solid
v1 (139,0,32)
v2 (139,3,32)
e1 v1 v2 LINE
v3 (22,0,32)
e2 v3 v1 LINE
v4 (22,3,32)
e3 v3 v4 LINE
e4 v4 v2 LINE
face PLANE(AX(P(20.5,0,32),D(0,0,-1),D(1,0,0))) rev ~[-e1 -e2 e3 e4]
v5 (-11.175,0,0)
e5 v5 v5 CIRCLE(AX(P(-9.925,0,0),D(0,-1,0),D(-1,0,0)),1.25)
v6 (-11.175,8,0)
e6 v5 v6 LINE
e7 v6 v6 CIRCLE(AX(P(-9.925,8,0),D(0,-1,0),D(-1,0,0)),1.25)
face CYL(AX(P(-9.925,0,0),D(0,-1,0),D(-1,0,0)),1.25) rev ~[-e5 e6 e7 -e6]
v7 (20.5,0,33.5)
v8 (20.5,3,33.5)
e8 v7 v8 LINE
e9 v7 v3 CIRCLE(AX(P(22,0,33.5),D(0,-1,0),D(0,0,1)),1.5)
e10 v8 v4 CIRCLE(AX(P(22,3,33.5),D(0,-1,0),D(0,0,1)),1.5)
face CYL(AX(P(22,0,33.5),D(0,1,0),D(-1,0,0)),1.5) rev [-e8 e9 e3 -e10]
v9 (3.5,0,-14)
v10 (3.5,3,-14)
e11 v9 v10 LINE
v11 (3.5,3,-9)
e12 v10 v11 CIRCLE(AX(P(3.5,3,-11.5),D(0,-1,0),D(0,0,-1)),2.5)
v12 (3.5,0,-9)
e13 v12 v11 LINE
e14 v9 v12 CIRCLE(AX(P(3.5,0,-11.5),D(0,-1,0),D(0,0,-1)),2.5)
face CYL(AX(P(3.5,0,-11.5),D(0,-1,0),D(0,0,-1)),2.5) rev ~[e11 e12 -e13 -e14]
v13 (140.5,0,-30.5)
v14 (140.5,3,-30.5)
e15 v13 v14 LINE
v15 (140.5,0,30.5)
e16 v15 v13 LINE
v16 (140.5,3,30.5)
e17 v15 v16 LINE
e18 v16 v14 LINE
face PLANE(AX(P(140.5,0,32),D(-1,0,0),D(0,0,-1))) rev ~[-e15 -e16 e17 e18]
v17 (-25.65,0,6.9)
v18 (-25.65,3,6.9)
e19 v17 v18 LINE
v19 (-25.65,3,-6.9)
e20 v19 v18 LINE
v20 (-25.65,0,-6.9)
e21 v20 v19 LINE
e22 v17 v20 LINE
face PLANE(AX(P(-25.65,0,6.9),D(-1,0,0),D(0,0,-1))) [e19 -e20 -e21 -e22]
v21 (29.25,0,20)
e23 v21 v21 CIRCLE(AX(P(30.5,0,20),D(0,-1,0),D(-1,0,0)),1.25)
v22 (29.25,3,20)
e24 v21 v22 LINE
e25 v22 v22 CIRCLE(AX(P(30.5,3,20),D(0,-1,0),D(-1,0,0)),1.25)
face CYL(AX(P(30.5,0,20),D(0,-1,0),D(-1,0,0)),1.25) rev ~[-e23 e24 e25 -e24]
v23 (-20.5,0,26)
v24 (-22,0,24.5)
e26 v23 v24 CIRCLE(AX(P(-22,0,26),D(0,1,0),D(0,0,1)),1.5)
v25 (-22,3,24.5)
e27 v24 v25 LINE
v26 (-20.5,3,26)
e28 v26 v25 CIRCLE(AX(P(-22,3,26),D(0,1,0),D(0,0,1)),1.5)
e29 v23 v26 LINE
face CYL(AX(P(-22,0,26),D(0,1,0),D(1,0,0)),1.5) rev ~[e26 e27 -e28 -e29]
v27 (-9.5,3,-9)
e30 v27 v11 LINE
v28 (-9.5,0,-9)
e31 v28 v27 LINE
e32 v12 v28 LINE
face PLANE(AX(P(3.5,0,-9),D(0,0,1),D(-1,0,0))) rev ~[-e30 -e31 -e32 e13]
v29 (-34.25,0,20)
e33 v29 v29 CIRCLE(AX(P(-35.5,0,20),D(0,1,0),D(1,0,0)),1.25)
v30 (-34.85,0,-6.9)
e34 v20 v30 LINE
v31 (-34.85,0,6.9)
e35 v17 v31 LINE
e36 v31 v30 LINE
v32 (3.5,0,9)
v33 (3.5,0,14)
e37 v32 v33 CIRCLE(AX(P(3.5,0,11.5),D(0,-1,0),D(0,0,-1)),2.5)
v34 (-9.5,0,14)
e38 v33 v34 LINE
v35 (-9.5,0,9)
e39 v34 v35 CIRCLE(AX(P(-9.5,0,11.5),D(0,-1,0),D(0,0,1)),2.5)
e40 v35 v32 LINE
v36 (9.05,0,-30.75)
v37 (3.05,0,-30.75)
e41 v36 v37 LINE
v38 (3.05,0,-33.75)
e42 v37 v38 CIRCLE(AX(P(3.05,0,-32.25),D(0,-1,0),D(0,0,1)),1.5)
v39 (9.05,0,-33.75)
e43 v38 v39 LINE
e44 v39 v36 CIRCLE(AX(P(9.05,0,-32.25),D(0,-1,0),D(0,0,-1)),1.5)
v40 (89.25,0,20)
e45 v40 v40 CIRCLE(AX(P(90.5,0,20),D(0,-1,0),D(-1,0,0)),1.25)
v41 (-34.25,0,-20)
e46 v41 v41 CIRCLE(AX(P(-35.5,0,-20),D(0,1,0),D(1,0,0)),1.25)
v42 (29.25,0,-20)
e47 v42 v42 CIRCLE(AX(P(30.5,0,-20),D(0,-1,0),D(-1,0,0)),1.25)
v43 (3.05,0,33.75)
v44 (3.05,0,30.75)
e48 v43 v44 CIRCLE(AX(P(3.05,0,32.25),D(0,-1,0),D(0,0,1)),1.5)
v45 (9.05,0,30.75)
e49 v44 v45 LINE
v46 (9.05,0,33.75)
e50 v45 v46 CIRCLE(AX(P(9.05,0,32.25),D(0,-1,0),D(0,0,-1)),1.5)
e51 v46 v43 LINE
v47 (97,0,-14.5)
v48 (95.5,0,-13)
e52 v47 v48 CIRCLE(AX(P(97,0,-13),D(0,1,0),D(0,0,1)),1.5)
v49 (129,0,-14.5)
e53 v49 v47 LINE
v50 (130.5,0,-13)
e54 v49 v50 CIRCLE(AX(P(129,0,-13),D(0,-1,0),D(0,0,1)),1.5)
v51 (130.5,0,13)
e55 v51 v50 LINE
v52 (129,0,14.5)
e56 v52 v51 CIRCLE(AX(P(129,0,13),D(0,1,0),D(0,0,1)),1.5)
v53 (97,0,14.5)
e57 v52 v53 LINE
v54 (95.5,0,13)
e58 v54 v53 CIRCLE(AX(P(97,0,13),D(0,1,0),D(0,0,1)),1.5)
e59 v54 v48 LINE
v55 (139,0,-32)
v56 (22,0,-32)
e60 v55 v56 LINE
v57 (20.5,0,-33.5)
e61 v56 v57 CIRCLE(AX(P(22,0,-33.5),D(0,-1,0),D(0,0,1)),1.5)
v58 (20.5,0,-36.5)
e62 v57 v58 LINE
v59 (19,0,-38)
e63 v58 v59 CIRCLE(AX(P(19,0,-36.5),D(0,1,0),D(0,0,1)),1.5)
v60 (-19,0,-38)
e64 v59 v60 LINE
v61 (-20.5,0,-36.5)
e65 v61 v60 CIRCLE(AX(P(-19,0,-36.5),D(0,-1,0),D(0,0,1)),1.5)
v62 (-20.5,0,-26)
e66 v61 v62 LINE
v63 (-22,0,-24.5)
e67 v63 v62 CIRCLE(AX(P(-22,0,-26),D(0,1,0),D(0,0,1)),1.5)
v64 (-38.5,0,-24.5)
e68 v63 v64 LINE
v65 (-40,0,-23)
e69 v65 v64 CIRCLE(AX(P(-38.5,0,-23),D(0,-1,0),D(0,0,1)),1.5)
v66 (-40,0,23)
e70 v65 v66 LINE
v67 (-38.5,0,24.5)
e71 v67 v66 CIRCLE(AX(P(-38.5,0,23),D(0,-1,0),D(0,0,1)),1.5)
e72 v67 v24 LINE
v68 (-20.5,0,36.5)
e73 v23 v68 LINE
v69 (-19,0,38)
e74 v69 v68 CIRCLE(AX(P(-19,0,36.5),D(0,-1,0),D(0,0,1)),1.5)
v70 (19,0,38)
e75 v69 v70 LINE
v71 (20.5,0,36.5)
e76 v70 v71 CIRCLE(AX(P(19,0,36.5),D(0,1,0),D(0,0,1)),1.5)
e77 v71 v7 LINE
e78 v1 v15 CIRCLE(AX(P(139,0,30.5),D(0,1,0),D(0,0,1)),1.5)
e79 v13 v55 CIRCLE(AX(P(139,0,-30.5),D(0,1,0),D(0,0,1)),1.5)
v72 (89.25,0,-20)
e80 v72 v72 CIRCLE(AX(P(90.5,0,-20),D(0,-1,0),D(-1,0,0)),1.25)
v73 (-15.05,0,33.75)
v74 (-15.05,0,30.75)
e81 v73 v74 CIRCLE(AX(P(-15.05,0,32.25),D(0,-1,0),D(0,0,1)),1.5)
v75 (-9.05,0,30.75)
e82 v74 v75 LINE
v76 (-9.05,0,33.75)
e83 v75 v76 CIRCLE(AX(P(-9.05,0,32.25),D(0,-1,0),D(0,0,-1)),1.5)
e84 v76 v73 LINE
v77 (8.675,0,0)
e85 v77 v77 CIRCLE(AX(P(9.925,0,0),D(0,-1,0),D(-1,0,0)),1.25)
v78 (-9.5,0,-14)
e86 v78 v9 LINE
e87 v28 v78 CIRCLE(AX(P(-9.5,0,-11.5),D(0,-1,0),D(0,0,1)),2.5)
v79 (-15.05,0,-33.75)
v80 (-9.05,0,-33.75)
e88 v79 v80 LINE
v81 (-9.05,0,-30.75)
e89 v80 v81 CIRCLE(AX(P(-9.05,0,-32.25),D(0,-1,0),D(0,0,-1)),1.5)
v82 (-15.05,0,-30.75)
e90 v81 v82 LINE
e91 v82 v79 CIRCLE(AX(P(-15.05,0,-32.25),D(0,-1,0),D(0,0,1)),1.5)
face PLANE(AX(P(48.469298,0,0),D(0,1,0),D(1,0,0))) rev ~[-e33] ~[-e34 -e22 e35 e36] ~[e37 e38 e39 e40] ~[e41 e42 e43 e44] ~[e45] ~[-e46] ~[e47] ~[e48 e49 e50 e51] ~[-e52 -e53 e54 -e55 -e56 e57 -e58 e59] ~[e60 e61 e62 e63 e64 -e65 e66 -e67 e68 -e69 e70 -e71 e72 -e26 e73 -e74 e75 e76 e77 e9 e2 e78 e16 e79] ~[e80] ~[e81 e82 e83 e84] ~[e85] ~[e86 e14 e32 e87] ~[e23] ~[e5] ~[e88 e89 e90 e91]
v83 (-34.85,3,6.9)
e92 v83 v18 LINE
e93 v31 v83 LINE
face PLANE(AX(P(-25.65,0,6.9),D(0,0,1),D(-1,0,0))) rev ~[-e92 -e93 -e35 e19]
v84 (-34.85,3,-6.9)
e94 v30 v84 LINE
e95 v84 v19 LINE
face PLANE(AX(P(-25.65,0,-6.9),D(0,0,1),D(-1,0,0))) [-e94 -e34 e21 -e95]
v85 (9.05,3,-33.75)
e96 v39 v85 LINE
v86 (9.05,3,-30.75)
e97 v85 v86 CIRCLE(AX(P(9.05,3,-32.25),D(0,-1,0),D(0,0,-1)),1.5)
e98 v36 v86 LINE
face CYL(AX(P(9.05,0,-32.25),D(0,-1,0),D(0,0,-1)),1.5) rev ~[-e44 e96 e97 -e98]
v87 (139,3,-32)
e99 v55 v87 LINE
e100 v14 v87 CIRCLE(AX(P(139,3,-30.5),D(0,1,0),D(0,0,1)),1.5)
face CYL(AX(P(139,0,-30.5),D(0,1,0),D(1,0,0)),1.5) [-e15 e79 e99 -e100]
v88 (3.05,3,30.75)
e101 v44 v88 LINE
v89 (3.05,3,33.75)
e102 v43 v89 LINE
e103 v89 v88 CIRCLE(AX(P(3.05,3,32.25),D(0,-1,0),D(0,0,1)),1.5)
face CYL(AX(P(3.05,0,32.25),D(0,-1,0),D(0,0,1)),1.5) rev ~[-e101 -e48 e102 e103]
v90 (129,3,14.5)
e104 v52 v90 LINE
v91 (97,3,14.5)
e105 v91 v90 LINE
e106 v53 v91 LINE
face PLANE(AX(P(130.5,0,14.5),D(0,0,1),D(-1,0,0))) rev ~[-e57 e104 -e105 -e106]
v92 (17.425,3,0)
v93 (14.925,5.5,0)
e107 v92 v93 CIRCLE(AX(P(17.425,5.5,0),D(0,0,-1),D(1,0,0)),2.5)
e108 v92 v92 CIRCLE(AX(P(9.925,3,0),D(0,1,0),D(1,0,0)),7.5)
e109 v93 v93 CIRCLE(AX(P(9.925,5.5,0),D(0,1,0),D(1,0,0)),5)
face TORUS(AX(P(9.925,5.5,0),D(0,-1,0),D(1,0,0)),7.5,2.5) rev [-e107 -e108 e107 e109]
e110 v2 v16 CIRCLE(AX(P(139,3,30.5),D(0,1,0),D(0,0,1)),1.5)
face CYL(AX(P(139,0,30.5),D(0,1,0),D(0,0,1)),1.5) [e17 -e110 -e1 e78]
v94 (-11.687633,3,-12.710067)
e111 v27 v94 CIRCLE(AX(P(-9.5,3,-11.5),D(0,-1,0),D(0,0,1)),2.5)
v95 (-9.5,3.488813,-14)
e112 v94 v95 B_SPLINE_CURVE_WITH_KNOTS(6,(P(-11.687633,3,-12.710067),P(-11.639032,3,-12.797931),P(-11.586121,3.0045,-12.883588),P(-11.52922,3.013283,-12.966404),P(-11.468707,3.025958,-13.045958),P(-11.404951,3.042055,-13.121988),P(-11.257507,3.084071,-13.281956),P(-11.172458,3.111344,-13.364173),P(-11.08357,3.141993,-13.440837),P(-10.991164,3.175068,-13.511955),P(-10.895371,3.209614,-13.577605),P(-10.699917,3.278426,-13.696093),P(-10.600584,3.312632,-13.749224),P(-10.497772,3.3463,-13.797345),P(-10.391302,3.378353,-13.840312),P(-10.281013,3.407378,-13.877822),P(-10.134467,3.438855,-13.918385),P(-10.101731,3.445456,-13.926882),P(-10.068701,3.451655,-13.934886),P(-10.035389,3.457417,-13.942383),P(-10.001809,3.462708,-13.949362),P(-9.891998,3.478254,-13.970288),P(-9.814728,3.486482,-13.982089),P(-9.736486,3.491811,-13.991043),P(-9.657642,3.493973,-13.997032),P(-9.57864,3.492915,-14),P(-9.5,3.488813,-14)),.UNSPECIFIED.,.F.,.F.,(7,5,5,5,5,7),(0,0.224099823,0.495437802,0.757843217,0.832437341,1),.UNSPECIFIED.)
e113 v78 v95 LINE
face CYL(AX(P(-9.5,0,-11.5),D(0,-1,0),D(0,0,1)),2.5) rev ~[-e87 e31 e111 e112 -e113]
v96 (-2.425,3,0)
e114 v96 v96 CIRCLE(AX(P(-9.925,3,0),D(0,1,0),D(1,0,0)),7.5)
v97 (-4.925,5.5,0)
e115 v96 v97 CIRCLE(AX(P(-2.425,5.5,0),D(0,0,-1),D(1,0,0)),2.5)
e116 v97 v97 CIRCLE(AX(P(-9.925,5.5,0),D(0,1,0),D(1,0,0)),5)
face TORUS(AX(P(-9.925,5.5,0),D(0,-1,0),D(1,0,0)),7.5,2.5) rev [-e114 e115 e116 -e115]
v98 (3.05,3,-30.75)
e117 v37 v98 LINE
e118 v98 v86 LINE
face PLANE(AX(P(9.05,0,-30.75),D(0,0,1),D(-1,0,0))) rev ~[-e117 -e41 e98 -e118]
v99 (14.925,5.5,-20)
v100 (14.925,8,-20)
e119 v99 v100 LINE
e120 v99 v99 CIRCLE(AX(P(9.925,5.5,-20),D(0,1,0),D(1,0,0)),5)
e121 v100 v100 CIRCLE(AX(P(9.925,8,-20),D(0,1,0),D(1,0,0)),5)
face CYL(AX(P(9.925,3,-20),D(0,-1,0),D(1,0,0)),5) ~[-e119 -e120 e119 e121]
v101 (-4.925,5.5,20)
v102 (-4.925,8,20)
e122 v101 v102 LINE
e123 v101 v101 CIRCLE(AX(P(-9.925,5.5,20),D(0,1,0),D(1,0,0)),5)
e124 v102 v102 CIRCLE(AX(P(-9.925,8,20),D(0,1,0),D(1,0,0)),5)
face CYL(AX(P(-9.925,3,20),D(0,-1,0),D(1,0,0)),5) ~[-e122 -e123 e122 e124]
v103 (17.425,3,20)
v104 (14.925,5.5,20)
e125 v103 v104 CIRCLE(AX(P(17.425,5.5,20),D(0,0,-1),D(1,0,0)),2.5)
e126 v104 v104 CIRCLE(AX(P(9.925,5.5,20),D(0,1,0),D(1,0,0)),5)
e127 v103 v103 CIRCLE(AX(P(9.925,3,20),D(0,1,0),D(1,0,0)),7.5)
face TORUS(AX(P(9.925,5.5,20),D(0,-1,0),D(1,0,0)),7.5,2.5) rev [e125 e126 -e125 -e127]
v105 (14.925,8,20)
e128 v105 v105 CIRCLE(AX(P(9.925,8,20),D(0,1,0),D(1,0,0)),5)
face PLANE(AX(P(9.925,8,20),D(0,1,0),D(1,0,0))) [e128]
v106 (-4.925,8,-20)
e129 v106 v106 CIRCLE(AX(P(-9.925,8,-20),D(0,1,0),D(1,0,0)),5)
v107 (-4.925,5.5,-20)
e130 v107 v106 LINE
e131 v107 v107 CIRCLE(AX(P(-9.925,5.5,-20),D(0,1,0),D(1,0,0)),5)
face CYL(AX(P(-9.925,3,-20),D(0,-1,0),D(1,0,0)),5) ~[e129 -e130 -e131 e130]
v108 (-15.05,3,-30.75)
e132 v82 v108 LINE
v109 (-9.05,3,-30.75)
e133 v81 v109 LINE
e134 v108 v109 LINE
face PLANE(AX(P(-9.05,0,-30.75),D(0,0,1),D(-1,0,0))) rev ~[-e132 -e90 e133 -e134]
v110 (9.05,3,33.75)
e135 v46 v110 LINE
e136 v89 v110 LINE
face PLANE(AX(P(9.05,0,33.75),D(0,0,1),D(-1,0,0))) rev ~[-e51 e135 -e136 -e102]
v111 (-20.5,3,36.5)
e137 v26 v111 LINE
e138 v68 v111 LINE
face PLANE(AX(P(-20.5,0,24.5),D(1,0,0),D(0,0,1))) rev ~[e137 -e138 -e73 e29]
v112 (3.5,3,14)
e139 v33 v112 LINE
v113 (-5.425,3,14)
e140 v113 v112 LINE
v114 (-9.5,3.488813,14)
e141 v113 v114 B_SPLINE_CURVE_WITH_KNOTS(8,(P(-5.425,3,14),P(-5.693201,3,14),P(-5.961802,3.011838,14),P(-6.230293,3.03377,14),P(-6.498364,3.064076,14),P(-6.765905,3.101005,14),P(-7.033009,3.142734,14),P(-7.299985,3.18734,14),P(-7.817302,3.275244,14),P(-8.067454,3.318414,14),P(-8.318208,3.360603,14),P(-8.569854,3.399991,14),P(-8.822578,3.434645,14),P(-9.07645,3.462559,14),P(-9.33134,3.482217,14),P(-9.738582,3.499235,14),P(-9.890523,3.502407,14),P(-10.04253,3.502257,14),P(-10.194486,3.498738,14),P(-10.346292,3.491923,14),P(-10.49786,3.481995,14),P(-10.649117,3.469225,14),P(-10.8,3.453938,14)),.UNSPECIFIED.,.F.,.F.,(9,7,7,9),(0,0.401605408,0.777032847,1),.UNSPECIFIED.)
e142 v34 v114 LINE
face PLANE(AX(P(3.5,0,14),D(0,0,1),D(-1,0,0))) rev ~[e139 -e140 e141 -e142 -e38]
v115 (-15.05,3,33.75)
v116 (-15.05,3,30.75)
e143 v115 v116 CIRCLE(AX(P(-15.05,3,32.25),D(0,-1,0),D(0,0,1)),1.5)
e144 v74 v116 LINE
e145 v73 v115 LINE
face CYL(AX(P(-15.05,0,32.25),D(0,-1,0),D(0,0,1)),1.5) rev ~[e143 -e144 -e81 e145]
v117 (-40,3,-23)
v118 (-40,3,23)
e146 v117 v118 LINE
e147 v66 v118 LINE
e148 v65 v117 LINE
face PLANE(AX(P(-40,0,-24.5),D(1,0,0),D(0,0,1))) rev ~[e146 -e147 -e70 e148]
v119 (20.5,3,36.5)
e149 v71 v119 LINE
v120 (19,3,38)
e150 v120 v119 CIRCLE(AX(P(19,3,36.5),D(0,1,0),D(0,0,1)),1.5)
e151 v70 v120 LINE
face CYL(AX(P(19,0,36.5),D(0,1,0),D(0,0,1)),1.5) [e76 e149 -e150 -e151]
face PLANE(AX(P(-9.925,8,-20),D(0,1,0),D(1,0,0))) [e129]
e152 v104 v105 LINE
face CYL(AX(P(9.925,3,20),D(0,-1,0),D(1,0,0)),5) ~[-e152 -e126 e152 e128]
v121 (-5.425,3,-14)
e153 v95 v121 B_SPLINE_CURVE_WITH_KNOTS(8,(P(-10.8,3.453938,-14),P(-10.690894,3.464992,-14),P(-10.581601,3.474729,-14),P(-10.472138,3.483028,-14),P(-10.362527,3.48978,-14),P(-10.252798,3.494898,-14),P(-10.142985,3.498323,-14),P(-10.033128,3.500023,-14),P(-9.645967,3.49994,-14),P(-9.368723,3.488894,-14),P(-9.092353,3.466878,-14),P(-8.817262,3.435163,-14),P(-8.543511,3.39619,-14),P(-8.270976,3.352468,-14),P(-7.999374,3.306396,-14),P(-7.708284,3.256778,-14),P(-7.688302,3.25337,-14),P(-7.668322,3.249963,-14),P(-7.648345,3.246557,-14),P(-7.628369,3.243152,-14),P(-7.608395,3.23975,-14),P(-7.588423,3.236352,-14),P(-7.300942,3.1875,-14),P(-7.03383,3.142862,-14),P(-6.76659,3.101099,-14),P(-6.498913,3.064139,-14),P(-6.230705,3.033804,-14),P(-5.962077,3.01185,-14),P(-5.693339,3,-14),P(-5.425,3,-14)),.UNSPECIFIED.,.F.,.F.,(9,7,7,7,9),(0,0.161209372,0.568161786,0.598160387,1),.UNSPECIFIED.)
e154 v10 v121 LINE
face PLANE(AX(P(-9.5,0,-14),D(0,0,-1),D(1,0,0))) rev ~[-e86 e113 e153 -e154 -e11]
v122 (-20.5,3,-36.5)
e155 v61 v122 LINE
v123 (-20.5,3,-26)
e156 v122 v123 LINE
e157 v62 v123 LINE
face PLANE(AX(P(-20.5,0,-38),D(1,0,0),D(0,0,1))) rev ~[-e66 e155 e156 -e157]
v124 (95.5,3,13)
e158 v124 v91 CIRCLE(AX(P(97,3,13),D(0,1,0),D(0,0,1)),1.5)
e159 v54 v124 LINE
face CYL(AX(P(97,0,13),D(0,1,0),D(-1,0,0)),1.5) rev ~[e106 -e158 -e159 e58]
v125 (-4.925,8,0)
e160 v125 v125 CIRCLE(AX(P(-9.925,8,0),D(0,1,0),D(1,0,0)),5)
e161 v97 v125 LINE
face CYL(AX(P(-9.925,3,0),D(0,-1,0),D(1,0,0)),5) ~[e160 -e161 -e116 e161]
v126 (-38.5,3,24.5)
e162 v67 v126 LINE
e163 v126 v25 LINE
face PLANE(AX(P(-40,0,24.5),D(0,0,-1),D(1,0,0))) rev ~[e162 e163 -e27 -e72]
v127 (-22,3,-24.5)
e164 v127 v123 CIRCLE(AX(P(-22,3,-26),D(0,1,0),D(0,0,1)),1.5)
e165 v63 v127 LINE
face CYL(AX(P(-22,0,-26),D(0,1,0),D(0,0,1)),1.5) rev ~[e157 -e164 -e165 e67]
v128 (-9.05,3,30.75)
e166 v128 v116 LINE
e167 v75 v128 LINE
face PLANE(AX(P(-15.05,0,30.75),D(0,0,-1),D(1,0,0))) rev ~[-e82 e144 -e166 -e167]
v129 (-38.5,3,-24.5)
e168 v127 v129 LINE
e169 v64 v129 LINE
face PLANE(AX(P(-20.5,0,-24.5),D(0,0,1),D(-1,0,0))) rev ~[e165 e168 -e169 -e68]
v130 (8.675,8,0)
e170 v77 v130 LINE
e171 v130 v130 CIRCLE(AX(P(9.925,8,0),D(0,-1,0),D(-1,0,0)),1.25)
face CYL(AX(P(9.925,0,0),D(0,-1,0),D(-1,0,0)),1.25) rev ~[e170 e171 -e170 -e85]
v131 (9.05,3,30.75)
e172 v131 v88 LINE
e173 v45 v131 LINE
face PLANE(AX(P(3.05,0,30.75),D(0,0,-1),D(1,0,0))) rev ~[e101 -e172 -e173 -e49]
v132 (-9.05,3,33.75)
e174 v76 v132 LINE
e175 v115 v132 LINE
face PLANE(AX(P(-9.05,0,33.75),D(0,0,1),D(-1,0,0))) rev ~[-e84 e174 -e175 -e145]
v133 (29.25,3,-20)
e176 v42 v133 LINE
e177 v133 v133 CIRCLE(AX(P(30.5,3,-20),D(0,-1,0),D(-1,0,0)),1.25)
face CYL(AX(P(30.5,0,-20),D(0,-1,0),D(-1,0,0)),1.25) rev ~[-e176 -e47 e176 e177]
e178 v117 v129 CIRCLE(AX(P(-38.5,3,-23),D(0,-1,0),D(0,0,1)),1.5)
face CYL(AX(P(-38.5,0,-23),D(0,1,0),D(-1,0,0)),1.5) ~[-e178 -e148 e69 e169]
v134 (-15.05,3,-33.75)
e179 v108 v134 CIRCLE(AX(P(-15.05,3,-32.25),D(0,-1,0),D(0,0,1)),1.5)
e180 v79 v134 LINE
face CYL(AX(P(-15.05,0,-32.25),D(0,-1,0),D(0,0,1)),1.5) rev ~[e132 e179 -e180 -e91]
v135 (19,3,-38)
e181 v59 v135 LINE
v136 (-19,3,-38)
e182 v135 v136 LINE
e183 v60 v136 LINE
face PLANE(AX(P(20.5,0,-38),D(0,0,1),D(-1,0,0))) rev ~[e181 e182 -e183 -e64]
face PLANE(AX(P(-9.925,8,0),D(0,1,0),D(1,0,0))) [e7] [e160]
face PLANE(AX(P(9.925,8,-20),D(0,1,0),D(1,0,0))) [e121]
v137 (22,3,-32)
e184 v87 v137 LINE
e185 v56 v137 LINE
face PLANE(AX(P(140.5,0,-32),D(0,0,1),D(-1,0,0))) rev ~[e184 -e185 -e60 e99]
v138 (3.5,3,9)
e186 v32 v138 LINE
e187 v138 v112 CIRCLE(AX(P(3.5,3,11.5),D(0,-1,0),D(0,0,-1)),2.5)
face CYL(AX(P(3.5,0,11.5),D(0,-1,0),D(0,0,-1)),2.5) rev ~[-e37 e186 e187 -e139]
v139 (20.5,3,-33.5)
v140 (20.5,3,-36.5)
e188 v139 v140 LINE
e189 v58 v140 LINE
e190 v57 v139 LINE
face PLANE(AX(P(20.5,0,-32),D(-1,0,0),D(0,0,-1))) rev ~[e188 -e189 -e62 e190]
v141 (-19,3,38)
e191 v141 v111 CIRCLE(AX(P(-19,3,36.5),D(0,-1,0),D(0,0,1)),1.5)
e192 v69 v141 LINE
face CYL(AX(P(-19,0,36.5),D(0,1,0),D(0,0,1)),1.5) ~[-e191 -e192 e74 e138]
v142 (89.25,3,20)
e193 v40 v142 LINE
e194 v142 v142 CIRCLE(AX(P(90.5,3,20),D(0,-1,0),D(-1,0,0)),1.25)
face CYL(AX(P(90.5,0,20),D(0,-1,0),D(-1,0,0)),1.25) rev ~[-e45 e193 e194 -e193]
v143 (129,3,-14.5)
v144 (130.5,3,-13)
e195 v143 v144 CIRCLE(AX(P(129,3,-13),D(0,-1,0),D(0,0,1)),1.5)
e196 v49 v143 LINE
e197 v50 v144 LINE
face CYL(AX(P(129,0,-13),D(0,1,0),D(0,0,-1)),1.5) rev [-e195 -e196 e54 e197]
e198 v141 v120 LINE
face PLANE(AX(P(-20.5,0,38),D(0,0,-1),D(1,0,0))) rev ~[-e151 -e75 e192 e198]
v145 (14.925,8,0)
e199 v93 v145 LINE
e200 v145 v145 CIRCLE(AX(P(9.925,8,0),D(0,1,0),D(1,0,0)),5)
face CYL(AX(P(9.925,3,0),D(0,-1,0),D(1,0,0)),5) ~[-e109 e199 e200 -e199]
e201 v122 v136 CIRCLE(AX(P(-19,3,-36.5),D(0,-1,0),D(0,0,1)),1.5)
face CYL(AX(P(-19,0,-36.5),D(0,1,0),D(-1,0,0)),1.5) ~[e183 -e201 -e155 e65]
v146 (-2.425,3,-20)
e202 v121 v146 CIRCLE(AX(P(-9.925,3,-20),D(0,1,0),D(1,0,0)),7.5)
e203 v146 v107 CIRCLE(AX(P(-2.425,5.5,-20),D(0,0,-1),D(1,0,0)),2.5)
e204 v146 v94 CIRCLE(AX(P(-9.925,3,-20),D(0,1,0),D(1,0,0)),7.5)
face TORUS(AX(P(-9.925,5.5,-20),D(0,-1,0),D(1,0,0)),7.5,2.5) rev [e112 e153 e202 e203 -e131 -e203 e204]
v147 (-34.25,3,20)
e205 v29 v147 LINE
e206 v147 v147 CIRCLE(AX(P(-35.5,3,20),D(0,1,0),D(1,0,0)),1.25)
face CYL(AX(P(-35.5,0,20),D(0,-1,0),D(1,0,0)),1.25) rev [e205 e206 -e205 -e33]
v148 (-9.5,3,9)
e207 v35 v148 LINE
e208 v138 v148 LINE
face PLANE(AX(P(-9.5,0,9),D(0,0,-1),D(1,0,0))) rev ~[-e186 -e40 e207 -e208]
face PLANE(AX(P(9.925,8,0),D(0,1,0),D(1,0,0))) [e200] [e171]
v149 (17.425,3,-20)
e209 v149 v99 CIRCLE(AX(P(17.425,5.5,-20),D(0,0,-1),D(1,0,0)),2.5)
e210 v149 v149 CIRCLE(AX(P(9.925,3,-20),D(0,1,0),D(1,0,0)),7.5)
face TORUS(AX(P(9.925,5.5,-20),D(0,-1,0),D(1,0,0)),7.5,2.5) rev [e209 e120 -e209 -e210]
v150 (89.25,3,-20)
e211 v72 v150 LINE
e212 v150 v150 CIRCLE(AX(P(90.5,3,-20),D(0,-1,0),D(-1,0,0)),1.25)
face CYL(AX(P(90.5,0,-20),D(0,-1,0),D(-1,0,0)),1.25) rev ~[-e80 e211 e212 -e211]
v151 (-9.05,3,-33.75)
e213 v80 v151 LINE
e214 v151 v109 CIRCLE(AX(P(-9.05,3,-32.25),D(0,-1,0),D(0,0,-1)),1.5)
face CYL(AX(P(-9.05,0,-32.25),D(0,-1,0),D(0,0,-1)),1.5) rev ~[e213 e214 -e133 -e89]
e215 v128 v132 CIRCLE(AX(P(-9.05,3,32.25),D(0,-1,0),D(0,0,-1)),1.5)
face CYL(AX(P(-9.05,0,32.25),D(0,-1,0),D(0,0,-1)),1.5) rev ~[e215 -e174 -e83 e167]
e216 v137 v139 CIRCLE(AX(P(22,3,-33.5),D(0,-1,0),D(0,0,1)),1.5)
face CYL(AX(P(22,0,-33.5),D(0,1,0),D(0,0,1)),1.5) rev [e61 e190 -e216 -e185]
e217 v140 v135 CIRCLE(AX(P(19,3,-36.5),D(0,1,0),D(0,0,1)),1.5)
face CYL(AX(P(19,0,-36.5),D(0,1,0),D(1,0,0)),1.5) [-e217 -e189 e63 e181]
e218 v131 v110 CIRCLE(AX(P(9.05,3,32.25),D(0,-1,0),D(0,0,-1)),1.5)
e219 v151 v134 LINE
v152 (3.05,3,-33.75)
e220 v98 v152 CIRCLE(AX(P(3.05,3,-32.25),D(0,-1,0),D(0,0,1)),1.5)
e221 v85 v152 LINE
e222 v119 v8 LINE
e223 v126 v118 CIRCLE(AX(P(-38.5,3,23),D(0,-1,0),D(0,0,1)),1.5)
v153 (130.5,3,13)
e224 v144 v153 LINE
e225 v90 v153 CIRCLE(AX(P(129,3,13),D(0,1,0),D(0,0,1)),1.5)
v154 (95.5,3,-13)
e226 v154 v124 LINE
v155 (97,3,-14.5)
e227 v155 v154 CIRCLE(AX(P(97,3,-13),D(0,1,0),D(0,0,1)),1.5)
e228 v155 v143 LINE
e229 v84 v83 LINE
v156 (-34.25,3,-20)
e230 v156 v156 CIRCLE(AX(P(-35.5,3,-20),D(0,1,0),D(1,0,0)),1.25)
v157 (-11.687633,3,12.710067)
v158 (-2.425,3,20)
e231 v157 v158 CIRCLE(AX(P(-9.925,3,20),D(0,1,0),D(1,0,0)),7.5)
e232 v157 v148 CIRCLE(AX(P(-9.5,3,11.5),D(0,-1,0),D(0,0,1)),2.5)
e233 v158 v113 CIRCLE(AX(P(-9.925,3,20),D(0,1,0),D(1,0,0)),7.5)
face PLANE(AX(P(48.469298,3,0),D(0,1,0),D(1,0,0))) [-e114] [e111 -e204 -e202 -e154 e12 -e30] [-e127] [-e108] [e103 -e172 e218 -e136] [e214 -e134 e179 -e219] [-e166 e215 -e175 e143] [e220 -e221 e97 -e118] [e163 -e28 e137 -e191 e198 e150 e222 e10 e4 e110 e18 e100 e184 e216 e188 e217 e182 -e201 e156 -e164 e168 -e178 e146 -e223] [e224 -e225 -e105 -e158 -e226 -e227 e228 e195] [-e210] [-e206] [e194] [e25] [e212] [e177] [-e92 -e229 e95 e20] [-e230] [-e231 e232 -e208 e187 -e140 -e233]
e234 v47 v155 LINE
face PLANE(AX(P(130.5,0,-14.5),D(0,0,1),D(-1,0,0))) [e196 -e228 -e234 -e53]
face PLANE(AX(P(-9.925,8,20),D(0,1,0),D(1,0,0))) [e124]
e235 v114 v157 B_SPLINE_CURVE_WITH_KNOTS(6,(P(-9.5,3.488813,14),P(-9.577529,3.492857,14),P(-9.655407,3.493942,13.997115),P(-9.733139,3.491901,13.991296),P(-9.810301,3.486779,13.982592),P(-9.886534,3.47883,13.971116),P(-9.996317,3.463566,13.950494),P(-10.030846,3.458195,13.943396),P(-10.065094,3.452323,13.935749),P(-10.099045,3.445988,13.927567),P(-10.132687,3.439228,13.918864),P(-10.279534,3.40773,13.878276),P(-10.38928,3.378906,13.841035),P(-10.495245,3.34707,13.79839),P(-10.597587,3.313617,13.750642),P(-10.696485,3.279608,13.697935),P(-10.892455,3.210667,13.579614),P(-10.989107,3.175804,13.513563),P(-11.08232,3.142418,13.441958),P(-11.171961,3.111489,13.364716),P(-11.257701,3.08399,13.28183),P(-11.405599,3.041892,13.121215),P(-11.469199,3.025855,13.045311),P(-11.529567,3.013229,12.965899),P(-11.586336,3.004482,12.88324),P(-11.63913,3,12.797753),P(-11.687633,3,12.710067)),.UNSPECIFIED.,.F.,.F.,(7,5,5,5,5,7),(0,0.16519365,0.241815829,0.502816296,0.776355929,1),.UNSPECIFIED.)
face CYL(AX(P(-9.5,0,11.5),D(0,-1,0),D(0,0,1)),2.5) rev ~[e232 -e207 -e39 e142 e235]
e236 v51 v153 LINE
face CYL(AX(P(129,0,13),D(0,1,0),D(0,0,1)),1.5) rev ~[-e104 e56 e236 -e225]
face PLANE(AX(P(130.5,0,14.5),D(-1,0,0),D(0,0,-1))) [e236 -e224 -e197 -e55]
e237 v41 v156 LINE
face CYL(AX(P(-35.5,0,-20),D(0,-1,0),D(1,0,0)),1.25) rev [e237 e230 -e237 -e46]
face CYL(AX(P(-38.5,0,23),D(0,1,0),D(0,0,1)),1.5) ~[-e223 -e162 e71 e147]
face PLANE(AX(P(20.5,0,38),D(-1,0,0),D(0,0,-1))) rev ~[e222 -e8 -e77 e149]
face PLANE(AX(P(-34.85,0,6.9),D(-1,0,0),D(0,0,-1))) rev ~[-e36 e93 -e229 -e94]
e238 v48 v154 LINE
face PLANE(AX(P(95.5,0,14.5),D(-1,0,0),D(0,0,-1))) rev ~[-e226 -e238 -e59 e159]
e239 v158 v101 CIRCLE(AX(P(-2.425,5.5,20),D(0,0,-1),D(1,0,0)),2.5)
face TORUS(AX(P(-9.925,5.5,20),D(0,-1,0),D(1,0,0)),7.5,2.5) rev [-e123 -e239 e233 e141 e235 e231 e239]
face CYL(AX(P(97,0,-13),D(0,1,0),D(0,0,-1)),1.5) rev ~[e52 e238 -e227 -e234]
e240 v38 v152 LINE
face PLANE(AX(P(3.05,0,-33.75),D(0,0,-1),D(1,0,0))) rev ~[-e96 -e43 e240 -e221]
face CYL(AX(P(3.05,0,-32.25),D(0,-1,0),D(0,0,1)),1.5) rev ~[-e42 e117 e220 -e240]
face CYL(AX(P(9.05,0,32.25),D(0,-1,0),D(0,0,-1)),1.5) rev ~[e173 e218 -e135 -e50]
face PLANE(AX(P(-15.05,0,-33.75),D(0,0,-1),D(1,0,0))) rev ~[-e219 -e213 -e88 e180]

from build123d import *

# Parameters (mm, degrees)
SKETCH1_R           = 1.25
BOSS_EXTRUDE1_DEPTH = 3
SKETCH2_R           = 5
BOSS_EXTRUDE2_DEPTH = 5
FILLET1_R           = 2.5
SKETCH3_R           = 1.25
SKETCH3_W           = 9.2
SKETCH3_H           = 13.8
SKETCH3_W_2         = 35
SKETCH3_H_2         = 29
CUT_EXTRUDE1_DEPTH  = 9
FILLET2_R           = 1.5


with BuildPart() as part:
    # Sketch1 → Boss-Extrude1 (new body)
    with BuildSketch(Plane(origin=(0, 0, 0), x_dir=(1, 0, 0), z_dir=(0, 1, 0))):
        Polygon((-20.5, -38), (20.5, -38), (20.5, -32), (140.5, -32), (140.5, 32), (20.5, 32), (20.5, 38), (-20.5, 38), (-20.5, 24.5), (-40, 24.5), (-40, -24.5), (-20.5, -24.5), align=None)
        with Locations((-35.5, 20)):
            Circle(SKETCH1_R, mode=Mode.SUBTRACT)
        with Locations((-35.5, -20)):
            Circle(SKETCH1_R, mode=Mode.SUBTRACT)
    extrude(amount=BOSS_EXTRUDE1_DEPTH)

    # Sketch2 → Boss-Extrude2 (add)
    with BuildSketch(Plane(origin=(0, 3, 0), x_dir=(1, 0, 0), z_dir=(0, 1, 0))):
        with Locations((-9.925, 20)):
            Circle(SKETCH2_R)
        with Locations((9.925, 20)):
            Circle(SKETCH2_R)
        with Locations((-9.925, 0)):
            Circle(SKETCH2_R)
        with Locations((9.925, 0)):
            Circle(SKETCH2_R)
        with Locations((9.925, -20)):
            Circle(SKETCH2_R)
        with Locations((-9.925, -20)):
            Circle(SKETCH2_R)
    extrude(amount=BOSS_EXTRUDE2_DEPTH)

    # Fillet1
    fillet1_edges = [part.edges().sort_by_distance(p)[0] for p in [
        (-14.925, 3, -20),
        (4.925, 3, -20),
        (-14.925, 3, 0),
        (4.925, 3, 0),
        (4.925, 3, 20),
        (-14.925, 3, 20),
    ]]
    fillet(fillet1_edges, radius=FILLET1_R)

    # Sketch3 → Cut-Extrude1 (cut, through all)
    with BuildSketch(Plane(origin=(0, 0, 0), x_dir=(-1, 0, 0), z_dir=(0, -1, 0))):
        with BuildLine():
            Line((3.5, -14), (9.5, -14))
            ThreePointArc((9.5, -14), (12, -11.5), (9.5, -9))
            Line((9.5, -9), (3.5, -9))
            ThreePointArc((3.5, -9), (6, -11.5), (3.5, -14))
        make_face()
        with BuildLine():
            Line((3.5, -9), (-3.5, -9))
            ThreePointArc((-3.5, -9), (-6, -11.5), (-3.5, -14))
            Line((-3.5, -14), (3.5, -14))
            ThreePointArc((3.5, -14), (6, -11.5), (3.5, -9))
        make_face()
        with BuildLine():
            Line((3.5, 9), (9.5, 9))
            ThreePointArc((9.5, 9), (12, 11.5), (9.5, 14))
            Line((9.5, 14), (3.5, 14))
            ThreePointArc((3.5, 14), (6, 11.5), (3.5, 9))
        make_face()
        with BuildLine():
            Line((3.5, 14), (-3.5, 14))
            ThreePointArc((-3.5, 14), (-6, 11.5), (-3.5, 9))
            Line((-3.5, 9), (3.5, 9))
            ThreePointArc((3.5, 9), (6, 11.5), (3.5, 14))
        make_face()
        with BuildLine():
            Line((9.05, -33.75), (15.05, -33.75))
            ThreePointArc((15.05, -33.75), (16.55, -32.25), (15.05, -30.75))
            Line((15.05, -30.75), (9.05, -30.75))
            ThreePointArc((9.05, -30.75), (7.55, -32.25), (9.05, -33.75))
        make_face()
        with BuildLine():
            Line((-3.05, -30.75), (-9.05, -30.75))
            ThreePointArc((-9.05, -30.75), (-10.55, -32.25), (-9.05, -33.75))
            Line((-9.05, -33.75), (-3.05, -33.75))
            ThreePointArc((-3.05, -33.75), (-1.55, -32.25), (-3.05, -30.75))
        make_face()
        with BuildLine():
            Line((-9.05, 30.75), (-3.05, 30.75))
            ThreePointArc((-3.05, 30.75), (-1.55, 32.25), (-3.05, 33.75))
            Line((-3.05, 33.75), (-9.05, 33.75))
            ThreePointArc((-9.05, 33.75), (-10.55, 32.25), (-9.05, 30.75))
        make_face()
        with Locations((-30.5, 20)):
            Circle(SKETCH3_R)
        with Locations((-30.5, -20)):
            Circle(SKETCH3_R)
        with Locations((-90.5, -20)):
            Circle(SKETCH3_R)
        with Locations((-90.5, 20)):
            Circle(SKETCH3_R)
        with BuildLine():
            ThreePointArc((9.05, 33.75), (7.55, 32.25), (9.05, 30.75))
            Line((9.05, 30.75), (15.05, 30.75))
            ThreePointArc((15.05, 30.75), (16.55, 32.25), (15.05, 33.75))
            Line((15.05, 33.75), (9.05, 33.75))
        make_face()
        with Locations((30.25, 0)):
            Rectangle(SKETCH3_W, SKETCH3_H)
        with Locations((-113, 0)):
            Rectangle(SKETCH3_W_2, SKETCH3_H_2)
        with Locations((9.925, 0)):
            Circle(SKETCH3_R)
        with Locations((-9.925, 0)):
            Circle(SKETCH3_R)
    extrude(amount=-CUT_EXTRUDE1_DEPTH, mode=Mode.SUBTRACT)

    # Fillet2
    fillet2_edges = [part.edges().sort_by_distance(p)[0] for p in [
        (95.5, 1.5, 14.5),
        (130.5, 1.5, 14.5),
        (130.5, 1.5, -14.5),
        (95.5, 1.5, -14.5),
        (-20.5, 1.5, -38),
        (20.5, 1.5, -38),
        (20.5, 1.5, -32),
        (140.5, 1.5, -32),
        (140.5, 1.5, 32),
        (20.5, 1.5, 32),
        (20.5, 1.5, 38),
        (-20.5, 1.5, 38),
        (-20.5, 1.5, 24.5),
        (-40, 1.5, 24.5),
        (-40, 1.5, -24.5),
        (-20.5, 1.5, -24.5),
    ]]
    fillet(fillet2_edges, radius=FILLET2_R)


solid = part.part
